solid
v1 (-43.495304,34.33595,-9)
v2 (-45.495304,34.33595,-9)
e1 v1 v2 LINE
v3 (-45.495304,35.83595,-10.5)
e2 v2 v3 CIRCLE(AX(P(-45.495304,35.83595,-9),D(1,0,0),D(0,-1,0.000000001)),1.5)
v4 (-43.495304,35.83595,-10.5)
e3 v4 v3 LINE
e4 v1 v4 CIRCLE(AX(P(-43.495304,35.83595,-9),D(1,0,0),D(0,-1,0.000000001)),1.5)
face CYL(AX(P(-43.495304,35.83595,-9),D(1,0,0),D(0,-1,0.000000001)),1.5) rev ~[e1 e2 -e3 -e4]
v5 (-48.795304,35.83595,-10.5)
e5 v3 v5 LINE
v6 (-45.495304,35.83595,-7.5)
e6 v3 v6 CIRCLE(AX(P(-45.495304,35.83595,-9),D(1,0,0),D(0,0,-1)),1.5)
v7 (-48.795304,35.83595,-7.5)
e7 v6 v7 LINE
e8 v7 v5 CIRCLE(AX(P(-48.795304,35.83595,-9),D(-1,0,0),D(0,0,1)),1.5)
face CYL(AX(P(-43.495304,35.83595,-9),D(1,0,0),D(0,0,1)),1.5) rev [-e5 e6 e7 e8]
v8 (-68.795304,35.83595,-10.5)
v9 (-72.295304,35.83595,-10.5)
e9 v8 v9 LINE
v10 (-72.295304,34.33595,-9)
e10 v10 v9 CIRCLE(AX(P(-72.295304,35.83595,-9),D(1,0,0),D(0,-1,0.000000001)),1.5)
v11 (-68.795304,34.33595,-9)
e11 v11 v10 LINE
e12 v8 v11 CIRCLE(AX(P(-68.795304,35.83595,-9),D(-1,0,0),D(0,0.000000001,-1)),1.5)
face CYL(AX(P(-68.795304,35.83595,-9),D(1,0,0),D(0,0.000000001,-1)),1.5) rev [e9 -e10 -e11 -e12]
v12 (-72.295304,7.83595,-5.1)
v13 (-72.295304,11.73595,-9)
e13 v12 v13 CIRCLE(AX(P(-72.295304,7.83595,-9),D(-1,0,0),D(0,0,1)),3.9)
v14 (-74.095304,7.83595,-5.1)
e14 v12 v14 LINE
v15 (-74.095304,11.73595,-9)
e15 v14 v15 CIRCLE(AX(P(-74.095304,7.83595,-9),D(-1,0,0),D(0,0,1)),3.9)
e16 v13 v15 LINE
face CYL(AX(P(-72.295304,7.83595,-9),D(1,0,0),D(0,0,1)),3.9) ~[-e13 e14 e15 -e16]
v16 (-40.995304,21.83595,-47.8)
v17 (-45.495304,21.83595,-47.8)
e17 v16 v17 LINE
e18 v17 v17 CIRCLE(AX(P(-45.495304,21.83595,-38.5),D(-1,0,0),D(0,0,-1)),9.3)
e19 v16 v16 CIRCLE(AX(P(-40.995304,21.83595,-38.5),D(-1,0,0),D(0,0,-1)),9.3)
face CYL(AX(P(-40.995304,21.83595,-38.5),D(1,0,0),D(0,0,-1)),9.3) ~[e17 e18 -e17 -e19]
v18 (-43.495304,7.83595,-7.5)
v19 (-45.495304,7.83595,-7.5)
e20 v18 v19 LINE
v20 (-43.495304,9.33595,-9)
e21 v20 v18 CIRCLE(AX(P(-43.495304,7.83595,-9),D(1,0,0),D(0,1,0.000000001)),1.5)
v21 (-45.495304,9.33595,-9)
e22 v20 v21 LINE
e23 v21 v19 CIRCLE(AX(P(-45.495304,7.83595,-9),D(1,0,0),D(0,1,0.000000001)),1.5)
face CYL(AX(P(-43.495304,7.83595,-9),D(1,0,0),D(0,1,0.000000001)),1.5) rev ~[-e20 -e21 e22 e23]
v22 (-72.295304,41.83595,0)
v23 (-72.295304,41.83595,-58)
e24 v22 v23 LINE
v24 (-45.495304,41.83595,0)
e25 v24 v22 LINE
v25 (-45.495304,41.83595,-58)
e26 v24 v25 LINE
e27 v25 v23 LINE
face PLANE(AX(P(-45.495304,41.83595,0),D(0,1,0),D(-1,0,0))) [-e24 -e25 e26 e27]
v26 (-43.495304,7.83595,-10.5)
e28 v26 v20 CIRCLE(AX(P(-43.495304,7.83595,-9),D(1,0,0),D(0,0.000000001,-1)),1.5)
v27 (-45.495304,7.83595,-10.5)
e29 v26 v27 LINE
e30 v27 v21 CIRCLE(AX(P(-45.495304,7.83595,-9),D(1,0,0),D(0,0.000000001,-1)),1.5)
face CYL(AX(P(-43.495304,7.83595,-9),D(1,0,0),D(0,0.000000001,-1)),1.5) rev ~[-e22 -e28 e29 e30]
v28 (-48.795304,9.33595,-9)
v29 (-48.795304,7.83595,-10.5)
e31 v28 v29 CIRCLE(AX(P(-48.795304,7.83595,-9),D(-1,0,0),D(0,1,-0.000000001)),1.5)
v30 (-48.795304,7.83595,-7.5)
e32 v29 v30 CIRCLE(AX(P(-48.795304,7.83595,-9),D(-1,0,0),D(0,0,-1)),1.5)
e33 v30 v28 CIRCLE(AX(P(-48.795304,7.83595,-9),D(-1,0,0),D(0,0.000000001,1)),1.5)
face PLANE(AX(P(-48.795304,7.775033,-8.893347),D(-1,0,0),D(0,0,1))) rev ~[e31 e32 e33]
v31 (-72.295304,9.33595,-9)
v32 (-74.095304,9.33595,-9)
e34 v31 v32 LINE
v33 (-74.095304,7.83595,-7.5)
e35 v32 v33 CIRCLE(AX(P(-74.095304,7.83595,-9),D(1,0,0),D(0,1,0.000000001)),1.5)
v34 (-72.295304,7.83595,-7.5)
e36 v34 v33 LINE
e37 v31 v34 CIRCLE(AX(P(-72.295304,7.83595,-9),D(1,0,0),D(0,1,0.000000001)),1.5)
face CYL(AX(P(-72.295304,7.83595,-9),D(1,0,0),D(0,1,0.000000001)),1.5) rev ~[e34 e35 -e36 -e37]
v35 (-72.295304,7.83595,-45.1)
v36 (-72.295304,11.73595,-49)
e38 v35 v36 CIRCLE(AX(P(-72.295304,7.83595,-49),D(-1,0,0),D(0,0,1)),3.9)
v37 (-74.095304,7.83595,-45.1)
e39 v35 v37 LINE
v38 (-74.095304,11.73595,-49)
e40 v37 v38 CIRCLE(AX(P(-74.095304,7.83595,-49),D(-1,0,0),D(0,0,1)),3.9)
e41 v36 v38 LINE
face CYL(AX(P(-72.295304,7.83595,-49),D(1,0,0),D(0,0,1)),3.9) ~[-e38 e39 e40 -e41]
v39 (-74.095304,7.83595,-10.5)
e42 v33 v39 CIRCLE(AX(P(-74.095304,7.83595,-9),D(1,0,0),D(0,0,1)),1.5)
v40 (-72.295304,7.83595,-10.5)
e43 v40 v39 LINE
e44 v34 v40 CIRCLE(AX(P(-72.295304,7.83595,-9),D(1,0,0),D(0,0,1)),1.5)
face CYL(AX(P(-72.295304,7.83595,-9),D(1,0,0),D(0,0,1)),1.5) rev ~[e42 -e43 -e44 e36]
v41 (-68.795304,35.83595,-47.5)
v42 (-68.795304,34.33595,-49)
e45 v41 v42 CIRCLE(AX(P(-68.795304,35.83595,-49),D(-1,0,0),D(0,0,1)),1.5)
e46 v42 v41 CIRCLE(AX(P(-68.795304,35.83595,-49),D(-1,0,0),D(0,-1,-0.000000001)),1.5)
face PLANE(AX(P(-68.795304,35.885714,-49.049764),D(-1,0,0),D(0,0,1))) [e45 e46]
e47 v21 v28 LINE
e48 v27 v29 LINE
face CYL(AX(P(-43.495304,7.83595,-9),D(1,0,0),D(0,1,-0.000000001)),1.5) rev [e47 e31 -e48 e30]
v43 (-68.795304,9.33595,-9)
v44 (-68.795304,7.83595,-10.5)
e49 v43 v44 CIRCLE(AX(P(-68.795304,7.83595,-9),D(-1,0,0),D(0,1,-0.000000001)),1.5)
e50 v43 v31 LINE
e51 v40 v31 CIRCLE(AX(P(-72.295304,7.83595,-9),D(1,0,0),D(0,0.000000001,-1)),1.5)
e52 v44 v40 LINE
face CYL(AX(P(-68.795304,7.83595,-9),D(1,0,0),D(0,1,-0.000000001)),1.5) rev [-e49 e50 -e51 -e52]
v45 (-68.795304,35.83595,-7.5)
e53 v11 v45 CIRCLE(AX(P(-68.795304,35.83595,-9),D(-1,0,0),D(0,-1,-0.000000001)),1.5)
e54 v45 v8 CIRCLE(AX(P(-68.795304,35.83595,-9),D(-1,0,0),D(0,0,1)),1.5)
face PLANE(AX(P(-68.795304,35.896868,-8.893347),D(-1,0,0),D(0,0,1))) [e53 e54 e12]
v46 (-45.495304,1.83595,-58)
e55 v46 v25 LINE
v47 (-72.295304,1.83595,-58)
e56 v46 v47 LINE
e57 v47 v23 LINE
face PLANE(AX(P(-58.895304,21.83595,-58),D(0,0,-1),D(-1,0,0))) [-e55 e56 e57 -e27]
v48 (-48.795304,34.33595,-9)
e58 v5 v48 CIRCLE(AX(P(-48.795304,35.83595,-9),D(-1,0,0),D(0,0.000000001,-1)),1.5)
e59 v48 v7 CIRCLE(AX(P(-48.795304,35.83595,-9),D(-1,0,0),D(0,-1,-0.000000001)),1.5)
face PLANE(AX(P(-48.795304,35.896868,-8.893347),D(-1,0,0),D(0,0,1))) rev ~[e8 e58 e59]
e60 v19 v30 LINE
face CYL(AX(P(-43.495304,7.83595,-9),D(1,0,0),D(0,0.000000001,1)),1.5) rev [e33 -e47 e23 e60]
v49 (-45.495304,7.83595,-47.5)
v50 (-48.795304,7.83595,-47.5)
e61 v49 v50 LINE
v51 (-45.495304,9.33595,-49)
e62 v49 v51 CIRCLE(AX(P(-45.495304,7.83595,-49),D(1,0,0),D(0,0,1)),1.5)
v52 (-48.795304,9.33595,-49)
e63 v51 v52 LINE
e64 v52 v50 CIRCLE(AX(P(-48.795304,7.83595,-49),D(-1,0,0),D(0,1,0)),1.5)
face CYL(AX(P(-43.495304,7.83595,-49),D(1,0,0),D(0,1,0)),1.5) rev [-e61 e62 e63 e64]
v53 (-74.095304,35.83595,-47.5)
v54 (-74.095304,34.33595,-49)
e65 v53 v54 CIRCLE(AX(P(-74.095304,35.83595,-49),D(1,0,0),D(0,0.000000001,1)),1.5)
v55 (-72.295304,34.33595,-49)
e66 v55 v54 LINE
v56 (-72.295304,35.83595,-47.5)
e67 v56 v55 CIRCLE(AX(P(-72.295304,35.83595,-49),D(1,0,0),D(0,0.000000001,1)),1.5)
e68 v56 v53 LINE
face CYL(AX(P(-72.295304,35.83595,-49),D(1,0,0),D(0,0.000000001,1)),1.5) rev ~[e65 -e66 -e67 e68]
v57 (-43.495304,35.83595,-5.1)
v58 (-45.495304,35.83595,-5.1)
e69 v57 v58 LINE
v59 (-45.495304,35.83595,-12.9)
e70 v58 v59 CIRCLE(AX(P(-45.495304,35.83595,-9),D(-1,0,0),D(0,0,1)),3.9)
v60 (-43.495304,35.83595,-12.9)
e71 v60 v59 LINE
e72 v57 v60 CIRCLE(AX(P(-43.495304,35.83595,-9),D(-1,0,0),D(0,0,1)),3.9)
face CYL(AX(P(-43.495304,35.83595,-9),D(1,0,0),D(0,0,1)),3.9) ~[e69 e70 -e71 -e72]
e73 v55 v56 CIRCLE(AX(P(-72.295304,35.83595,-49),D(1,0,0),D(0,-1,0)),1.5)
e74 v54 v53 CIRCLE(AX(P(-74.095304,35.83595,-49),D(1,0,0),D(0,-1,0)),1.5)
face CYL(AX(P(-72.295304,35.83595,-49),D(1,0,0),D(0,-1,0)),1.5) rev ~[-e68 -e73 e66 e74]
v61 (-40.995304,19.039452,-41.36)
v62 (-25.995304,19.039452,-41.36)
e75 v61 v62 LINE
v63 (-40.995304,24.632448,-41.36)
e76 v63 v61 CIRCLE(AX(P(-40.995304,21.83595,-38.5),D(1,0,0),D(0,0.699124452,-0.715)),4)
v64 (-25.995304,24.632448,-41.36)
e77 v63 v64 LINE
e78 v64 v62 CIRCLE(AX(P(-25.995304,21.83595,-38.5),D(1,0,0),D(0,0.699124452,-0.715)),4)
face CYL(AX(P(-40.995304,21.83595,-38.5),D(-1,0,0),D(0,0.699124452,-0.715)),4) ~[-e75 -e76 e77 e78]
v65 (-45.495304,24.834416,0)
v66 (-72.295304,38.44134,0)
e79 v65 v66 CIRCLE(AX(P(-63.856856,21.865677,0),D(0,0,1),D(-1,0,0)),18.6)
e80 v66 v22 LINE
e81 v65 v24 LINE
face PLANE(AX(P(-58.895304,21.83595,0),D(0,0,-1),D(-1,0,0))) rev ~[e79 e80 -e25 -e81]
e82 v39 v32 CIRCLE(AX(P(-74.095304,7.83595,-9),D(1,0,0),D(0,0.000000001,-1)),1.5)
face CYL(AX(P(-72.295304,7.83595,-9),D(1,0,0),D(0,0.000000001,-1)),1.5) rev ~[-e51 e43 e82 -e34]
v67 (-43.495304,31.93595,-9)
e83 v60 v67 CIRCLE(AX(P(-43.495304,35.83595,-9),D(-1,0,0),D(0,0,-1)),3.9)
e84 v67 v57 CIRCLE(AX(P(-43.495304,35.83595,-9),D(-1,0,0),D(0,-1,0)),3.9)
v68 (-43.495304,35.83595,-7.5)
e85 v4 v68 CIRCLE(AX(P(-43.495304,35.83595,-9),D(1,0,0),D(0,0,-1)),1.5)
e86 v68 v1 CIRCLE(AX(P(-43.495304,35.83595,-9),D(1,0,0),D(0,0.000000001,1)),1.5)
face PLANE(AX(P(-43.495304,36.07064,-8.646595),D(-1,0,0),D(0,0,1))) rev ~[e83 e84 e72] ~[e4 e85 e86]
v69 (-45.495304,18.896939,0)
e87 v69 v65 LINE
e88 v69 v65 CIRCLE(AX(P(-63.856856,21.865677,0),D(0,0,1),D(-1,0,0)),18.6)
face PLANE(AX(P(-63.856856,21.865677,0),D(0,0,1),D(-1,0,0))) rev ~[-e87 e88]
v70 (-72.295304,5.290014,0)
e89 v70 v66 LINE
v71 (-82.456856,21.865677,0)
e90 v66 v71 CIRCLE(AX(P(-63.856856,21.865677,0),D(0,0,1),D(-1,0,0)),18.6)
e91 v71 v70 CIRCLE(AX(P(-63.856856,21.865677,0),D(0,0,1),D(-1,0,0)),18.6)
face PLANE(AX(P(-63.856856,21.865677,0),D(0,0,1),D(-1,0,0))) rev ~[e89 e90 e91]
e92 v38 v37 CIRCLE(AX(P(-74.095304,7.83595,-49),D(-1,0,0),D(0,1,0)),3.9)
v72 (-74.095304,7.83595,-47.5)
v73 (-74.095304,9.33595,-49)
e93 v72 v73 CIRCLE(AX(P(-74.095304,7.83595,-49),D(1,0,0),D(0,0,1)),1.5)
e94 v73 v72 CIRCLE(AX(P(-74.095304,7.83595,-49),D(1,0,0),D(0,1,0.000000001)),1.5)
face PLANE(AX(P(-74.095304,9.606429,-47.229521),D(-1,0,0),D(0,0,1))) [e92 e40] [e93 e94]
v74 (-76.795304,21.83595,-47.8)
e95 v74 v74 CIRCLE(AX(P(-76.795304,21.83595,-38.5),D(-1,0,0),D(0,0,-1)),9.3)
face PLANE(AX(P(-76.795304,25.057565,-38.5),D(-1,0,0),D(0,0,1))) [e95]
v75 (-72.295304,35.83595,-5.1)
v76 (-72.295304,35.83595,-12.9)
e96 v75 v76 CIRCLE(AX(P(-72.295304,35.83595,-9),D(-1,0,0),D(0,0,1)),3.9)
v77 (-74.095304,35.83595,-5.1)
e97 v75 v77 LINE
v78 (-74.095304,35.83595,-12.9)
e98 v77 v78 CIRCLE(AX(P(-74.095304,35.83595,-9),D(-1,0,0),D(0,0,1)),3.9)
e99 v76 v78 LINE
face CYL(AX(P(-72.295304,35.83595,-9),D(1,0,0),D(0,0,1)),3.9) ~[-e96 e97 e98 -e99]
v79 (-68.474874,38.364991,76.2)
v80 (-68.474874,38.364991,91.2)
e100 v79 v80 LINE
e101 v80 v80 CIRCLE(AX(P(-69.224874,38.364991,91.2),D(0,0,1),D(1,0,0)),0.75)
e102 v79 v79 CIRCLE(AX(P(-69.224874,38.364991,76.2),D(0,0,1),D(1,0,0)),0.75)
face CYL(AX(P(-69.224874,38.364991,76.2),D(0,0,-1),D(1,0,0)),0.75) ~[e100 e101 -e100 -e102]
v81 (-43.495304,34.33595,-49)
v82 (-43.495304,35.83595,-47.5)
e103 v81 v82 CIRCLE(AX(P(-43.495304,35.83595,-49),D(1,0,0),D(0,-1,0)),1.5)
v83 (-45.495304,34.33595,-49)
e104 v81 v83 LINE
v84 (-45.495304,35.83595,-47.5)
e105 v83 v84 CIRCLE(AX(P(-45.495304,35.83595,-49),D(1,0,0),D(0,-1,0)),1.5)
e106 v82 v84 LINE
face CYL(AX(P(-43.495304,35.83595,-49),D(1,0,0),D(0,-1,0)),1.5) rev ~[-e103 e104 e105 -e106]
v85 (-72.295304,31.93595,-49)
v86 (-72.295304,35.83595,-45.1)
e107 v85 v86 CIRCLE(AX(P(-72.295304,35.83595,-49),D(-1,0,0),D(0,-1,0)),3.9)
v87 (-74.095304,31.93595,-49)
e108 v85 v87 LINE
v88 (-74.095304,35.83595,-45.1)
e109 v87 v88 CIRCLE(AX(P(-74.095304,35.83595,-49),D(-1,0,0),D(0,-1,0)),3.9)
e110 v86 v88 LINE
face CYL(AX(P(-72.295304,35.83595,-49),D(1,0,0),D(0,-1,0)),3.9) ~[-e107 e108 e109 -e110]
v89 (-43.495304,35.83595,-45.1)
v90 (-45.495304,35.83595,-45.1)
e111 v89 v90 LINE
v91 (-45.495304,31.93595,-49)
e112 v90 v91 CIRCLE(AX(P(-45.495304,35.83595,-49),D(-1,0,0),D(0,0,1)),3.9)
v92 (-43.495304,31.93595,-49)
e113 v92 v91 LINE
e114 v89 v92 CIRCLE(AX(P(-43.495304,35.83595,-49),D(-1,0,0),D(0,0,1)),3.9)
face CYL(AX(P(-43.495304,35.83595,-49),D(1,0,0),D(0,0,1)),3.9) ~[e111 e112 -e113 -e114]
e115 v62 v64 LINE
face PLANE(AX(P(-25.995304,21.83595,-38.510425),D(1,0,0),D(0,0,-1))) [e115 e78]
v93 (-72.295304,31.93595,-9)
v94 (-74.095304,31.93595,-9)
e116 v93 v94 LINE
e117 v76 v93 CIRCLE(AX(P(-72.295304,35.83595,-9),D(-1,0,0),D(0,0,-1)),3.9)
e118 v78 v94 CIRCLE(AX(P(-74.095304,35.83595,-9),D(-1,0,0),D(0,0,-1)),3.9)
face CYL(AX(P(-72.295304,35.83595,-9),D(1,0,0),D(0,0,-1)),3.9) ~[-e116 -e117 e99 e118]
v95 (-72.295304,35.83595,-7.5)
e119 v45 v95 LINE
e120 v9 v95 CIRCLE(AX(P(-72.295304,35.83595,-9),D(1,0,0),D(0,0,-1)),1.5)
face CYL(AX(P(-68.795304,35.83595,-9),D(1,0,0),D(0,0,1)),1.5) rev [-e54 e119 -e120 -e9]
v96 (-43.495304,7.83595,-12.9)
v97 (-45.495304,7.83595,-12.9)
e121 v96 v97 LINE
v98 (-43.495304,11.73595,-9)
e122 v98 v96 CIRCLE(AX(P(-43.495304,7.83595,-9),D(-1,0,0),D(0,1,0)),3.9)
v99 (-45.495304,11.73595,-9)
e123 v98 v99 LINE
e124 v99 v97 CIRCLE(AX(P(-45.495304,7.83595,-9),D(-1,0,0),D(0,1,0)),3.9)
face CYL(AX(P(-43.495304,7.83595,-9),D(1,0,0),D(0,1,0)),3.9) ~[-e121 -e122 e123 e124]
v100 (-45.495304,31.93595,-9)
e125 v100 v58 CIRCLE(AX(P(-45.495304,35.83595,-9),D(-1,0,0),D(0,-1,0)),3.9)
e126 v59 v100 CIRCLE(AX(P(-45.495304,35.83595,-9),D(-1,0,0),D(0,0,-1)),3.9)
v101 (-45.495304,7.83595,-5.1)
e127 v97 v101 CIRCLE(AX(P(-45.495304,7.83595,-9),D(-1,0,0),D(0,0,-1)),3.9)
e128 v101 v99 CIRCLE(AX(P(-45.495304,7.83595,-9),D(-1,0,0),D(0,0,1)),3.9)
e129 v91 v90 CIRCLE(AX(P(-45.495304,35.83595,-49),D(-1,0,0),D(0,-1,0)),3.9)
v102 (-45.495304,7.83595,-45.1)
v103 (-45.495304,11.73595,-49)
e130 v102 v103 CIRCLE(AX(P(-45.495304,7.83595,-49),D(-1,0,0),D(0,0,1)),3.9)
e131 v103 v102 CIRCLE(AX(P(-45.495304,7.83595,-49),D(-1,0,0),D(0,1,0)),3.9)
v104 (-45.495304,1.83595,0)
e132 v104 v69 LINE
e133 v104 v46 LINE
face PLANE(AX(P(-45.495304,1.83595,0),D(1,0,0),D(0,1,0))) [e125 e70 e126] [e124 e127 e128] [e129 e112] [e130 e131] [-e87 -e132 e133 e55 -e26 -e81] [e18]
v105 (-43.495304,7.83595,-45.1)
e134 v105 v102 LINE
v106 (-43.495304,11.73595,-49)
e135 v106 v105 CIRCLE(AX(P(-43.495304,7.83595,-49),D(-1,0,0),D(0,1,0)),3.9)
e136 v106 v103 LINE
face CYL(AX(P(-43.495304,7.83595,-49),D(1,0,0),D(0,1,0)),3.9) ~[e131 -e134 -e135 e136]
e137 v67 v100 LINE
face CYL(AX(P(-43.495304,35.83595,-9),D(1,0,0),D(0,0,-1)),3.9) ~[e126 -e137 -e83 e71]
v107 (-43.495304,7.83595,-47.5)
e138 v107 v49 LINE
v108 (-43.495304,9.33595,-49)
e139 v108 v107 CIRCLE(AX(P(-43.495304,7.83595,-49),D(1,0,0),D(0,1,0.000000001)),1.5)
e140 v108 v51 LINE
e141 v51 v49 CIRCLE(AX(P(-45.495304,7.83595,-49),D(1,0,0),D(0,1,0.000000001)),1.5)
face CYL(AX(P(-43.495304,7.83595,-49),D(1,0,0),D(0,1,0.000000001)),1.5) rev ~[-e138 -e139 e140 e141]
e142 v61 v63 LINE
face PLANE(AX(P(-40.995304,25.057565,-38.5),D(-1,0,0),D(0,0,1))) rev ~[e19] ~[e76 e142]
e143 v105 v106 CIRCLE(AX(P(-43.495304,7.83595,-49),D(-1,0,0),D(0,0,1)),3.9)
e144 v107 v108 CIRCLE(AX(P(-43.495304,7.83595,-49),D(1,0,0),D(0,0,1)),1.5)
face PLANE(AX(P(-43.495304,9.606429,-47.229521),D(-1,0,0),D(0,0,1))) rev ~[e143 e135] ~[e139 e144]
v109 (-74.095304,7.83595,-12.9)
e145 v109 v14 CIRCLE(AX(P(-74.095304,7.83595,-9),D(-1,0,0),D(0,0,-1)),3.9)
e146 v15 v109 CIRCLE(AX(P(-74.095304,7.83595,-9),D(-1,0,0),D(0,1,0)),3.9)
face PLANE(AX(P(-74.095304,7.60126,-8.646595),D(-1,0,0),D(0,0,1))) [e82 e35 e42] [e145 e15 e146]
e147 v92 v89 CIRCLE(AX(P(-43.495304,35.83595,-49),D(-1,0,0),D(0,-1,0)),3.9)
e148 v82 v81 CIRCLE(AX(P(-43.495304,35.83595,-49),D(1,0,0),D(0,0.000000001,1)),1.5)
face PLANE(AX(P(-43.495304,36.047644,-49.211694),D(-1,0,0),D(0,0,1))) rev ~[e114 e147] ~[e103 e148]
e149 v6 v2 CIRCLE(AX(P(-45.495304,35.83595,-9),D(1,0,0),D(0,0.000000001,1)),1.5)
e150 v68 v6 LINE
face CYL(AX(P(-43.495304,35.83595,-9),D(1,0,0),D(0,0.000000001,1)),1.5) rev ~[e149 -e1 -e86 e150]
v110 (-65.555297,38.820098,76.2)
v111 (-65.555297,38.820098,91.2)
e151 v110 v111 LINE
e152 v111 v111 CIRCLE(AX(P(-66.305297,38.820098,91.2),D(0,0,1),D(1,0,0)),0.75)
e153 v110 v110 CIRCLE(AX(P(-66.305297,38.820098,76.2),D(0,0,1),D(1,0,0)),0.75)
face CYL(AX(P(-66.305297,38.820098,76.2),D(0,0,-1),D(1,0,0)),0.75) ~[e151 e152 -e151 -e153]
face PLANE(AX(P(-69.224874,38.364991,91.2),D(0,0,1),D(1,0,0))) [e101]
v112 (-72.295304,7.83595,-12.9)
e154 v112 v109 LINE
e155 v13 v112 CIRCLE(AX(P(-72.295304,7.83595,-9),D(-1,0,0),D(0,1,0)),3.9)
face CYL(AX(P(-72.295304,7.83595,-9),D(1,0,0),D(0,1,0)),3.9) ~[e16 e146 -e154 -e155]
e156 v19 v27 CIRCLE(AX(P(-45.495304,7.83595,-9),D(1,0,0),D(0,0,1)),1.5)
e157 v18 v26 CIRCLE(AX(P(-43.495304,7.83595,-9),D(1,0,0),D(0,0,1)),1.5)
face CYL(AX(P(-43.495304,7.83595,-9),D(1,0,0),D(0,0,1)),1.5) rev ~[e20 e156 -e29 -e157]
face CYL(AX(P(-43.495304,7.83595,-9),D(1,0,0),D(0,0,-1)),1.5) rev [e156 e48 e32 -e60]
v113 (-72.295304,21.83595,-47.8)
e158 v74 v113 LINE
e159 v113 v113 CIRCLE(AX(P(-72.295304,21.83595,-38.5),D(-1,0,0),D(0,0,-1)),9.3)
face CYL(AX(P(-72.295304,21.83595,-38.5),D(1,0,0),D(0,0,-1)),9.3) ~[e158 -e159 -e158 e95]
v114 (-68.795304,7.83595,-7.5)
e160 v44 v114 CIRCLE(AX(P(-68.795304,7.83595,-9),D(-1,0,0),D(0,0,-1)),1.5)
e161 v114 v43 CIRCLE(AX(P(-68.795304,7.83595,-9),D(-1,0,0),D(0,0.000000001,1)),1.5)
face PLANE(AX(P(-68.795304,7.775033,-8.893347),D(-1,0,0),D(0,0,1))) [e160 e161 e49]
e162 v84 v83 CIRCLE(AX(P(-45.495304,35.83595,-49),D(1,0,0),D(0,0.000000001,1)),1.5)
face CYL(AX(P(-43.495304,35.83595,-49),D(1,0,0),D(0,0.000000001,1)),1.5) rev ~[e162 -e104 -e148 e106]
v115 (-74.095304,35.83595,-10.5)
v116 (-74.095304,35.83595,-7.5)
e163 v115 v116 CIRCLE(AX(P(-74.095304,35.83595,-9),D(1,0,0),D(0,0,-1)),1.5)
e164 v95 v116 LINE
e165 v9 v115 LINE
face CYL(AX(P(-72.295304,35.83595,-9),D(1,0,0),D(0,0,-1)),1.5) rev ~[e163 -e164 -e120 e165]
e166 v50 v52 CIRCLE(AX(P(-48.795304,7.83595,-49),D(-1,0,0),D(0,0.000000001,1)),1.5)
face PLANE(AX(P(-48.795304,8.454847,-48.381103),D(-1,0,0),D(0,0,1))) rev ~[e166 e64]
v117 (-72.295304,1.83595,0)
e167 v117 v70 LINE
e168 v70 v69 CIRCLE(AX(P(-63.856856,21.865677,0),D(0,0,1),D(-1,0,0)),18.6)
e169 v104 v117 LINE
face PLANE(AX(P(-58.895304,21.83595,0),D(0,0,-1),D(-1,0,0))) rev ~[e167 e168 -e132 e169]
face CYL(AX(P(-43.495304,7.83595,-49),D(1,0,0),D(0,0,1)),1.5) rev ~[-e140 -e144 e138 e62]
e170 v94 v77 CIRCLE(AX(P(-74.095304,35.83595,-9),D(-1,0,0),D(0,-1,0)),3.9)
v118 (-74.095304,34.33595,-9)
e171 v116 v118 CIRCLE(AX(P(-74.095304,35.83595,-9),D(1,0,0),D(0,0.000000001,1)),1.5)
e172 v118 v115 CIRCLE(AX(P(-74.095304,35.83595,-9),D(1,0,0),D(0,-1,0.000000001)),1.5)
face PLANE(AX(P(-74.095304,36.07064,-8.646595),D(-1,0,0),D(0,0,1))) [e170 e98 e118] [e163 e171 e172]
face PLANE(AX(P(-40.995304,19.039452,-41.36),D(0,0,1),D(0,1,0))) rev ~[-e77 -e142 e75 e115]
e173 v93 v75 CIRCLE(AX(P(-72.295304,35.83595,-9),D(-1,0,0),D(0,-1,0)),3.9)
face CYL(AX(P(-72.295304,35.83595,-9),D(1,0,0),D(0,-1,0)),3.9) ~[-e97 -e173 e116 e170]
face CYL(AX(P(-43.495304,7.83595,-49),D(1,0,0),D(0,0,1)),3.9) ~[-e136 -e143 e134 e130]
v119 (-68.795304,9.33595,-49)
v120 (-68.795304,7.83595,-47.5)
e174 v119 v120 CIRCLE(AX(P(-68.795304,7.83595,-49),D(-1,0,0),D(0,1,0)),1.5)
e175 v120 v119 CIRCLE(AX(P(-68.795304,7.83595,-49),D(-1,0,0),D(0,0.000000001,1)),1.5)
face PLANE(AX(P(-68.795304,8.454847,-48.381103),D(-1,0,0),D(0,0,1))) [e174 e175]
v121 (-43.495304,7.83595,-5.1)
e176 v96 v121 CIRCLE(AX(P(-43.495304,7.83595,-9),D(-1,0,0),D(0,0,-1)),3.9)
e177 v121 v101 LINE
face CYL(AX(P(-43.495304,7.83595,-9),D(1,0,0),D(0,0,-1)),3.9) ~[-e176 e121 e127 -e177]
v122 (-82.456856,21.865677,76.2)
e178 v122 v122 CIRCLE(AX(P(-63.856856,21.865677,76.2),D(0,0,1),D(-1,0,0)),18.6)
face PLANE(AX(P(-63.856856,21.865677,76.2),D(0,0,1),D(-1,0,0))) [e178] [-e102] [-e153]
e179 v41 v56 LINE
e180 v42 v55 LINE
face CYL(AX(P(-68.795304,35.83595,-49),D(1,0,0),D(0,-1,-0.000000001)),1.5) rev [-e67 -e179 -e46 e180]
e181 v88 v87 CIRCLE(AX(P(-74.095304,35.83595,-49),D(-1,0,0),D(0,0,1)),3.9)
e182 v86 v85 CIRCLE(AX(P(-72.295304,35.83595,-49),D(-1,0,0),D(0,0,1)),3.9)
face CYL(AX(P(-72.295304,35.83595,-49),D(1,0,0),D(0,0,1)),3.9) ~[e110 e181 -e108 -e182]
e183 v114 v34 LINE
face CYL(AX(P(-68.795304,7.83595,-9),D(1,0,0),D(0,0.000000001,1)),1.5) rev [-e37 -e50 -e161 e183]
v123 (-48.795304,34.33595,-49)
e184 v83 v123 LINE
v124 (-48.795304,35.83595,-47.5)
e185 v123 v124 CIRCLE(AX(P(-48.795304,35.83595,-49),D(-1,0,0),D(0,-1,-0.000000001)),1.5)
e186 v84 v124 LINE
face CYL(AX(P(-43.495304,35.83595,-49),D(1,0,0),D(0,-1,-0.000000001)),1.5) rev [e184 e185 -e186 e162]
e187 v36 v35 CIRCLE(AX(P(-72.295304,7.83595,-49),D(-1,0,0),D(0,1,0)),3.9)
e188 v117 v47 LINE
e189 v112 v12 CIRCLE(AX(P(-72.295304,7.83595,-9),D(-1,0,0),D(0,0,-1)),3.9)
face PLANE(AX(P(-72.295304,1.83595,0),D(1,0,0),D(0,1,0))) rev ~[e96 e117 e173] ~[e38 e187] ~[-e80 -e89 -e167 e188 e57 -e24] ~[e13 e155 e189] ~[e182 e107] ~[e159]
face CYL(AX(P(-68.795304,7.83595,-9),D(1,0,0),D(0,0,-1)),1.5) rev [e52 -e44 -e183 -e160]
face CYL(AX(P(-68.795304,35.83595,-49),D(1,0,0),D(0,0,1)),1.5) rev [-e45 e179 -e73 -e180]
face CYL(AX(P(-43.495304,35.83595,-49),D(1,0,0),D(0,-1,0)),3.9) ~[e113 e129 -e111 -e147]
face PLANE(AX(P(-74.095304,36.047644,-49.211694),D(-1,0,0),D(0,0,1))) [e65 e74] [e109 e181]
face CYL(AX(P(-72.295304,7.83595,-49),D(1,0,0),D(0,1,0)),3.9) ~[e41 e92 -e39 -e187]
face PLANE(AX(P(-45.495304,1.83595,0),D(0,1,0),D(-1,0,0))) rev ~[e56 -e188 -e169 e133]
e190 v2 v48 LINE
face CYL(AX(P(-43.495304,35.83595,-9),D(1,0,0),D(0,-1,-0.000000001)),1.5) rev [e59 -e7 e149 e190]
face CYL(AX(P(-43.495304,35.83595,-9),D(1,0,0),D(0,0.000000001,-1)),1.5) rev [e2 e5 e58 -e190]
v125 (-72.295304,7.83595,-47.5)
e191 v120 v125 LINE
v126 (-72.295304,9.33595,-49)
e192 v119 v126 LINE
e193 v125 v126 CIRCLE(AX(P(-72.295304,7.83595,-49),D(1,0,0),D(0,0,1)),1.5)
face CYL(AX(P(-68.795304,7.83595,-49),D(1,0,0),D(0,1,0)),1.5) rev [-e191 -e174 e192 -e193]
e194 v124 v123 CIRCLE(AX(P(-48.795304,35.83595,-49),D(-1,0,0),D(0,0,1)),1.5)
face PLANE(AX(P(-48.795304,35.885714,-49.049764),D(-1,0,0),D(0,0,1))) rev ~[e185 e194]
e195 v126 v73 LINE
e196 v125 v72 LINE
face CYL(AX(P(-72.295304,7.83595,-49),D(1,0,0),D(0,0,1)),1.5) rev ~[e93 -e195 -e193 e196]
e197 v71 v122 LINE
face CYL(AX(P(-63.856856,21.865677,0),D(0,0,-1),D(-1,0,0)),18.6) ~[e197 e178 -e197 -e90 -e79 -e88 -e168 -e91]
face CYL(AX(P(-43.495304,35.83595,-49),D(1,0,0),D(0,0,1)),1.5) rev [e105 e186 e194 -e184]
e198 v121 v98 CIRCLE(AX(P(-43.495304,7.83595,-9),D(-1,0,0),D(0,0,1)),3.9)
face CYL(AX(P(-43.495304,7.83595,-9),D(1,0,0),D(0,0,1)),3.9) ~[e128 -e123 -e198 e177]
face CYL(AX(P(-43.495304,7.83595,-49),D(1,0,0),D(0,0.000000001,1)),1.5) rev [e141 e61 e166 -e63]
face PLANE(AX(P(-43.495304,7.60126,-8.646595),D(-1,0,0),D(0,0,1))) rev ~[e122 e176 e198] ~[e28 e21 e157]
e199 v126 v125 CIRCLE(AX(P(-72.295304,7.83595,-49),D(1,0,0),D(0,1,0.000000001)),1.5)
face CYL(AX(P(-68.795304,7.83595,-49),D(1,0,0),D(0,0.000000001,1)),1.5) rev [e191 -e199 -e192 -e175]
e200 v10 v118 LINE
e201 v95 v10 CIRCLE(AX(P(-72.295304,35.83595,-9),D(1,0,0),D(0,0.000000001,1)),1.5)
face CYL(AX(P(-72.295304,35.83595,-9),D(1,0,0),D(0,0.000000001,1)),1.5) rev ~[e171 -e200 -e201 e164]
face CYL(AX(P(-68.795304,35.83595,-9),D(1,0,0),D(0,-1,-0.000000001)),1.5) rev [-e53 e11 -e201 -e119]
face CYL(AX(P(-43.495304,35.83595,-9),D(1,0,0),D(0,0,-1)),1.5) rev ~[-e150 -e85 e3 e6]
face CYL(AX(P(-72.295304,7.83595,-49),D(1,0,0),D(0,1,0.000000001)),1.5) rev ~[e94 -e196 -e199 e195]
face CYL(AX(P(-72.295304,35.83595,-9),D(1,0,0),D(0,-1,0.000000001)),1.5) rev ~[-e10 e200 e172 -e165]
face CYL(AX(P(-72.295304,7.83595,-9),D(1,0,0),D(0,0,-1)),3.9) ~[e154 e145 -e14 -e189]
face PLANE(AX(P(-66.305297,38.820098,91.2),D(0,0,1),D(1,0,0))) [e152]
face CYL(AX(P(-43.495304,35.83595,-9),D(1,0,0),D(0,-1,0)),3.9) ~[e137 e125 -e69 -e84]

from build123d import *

# Parameters (mm, degrees)
SKETCH4_R            = 18.6
BOSS_EXTRUDE3_DEPTH  = 76.2
SKETCH5_R            = 0.75
BOSS_EXTRUDE4_DEPTH  = 15
SKETCH6_R            = 0.75
BOSS_EXTRUDE5_DEPTH  = 15
SKETCH7_W            = 26.8
SKETCH7_H            = 40
BOSS_EXTRUDE6_DEPTH  = 58
BOSS_EXTRUDE10_DEPTH = 1.8
BOSS_EXTRUDE11_DEPTH = 4.5
CUT_EXTRUDE1_START   = -3.5
CUT_EXTRUDE1_DEPTH   = 5.3
BOSS_EXTRUDE12_START = -28.8
BOSS_EXTRUDE12_DEPTH = 2
CUT_EXTRUDE2_START   = -28.8
CUT_EXTRUDE2_DEPTH   = 5.3
BOSS_EXTRUDE13_START = -31.3
BOSS_EXTRUDE13_DEPTH = 4.5
BOSS_EXTRUDE14_DEPTH = 15


with BuildPart() as part:
    # Sketch4 → Boss-Extrude3 (new body)
    with BuildSketch(Plane.XY):
        with Locations(Location((-63.856856352, 21.865677116, 0), (0, 0, 180))):
            Circle(SKETCH4_R)
    extrude(amount=BOSS_EXTRUDE3_DEPTH)

    # Sketch5 → Boss-Extrude4 (add)
    with BuildSketch(Plane.XY.offset(76.2)):
        with Locations((-66.305296551, 38.820097555)):
            Circle(SKETCH5_R)
    extrude(amount=BOSS_EXTRUDE4_DEPTH)

    # Sketch6 → Boss-Extrude5 (add)
    with BuildSketch(Plane.XY.offset(76.2)):
        with Locations((-69.224873833, 38.364991381)):
            Circle(SKETCH6_R)
    extrude(amount=BOSS_EXTRUDE5_DEPTH)

    # Sketch7 → Boss-Extrude6 (add)
    with BuildSketch(Plane(origin=(0, 0, 0), x_dir=(-1, 0, 0), z_dir=(0, 0, -1))):
        with Locations((58.895304338, 21.83595021)):
            Rectangle(SKETCH7_W, SKETCH7_H)
    extrude(amount=BOSS_EXTRUDE6_DEPTH)

    # Sketch22 → Boss-Extrude10 (add)
    with BuildSketch(Plane.ZY.offset(72.295304338)):
        with BuildLine():
            ThreePointArc((-29.2, 21.83595021), (-38.5, 31.13595021), (-47.8, 21.83595021))
            Line((-47.8, 21.83595021), (-29.2, 21.83595021))
        make_face()
        with BuildLine():
            Line((-29.2, 21.83595021), (-47.8, 21.83595021))
            ThreePointArc((-47.8, 21.83595021), (-38.5, 12.53595021), (-29.2, 21.83595021))
        make_face()
        with BuildLine():
            ThreePointArc((-45.1, 7.83595021), (-46.242283553, 10.593666656), (-49, 11.73595021))
            Line((-49, 11.73595021), (-49, 9.33595021))
            ThreePointArc((-49, 9.33595021), (-47.939339828, 8.896610381), (-47.5, 7.83595021))
            Line((-47.5, 7.83595021), (-45.1, 7.83595021))
        make_face()
        with BuildLine():
            Line((-49, 9.33595021), (-49, 11.73595021))
            ThreePointArc((-49, 11.73595021), (-51.757716447, 5.078233763), (-45.1, 7.83595021))
            Line((-45.1, 7.83595021), (-47.5, 7.83595021))
            ThreePointArc((-47.5, 7.83595021), (-50.060660172, 6.775290038), (-49, 9.33595021))
        make_face()
        with BuildLine():
            ThreePointArc((-49, 34.33595021), (-50.060660172, 36.896610381), (-47.5, 35.83595021))
            Line((-47.5, 35.83595021), (-45.1, 35.83595021))
            ThreePointArc((-45.1, 35.83595021), (-51.757716447, 38.593666656), (-49, 31.93595021))
            Line((-49, 31.93595021), (-49, 34.33595021))
        make_face()
        with BuildLine():
            Line((-45.1, 35.83595021), (-47.5, 35.83595021))
            ThreePointArc((-47.5, 35.83595021), (-47.939339828, 34.775290038), (-49, 34.33595021))
            Line((-49, 34.33595021), (-49, 31.93595021))
            ThreePointArc((-49, 31.93595021), (-46.242283553, 33.078233763), (-45.1, 35.83595021))
        make_face()
        with BuildLine():
            ThreePointArc((-5.1, 35.83595021), (-9, 39.73595021), (-12.9, 35.83595021))
            Line((-12.9, 35.83595021), (-10.5, 35.83595021))
            ThreePointArc((-10.5, 35.83595021), (-9, 37.33595021), (-7.5, 35.83595021))
            ThreePointArc((-7.5, 35.83595021), (-7.939339828, 34.775290038), (-9, 34.33595021))
            Line((-9, 34.33595021), (-9, 31.93595021))
            ThreePointArc((-9, 31.93595021), (-6.242283553, 33.078233763), (-5.1, 35.83595021))
        make_face()
        with BuildLine():
            Line((-10.5, 35.83595021), (-12.9, 35.83595021))
            ThreePointArc((-12.9, 35.83595021), (-11.757716447, 33.078233763), (-9, 31.93595021))
            Line((-9, 31.93595021), (-9, 34.33595021))
            ThreePointArc((-9, 34.33595021), (-10.060660172, 34.775290038), (-10.5, 35.83595021))
        make_face()
        with BuildLine():
            ThreePointArc((-5.1, 7.83595021), (-6.242283553, 10.593666656), (-9, 11.73595021))
            Line((-9, 11.73595021), (-9, 9.33595021))
            ThreePointArc((-9, 9.33595021), (-7.939339828, 8.896610381), (-7.5, 7.83595021))
            ThreePointArc((-7.5, 7.83595021), (-9, 6.33595021), (-10.5, 7.83595021))
            Line((-10.5, 7.83595021), (-12.9, 7.83595021))
            ThreePointArc((-12.9, 7.83595021), (-9, 3.93595021), (-5.1, 7.83595021))
        make_face()
        with BuildLine():
            Line((-9, 9.33595021), (-9, 11.73595021))
            ThreePointArc((-9, 11.73595021), (-11.757716447, 10.593666656), (-12.9, 7.83595021))
            Line((-12.9, 7.83595021), (-10.5, 7.83595021))
            ThreePointArc((-10.5, 7.83595021), (-10.060660172, 8.896610381), (-9, 9.33595021))
        make_face()
    extrude(amount=BOSS_EXTRUDE10_DEPTH)

    # Sketch22<4> → Boss-Extrude11 (add)
    with BuildSketch(Plane.ZY.offset(72.295304338)):
        with BuildLine():
            ThreePointArc((-29.2, 21.83595021), (-38.5, 31.13595021), (-47.8, 21.83595021))
            Line((-47.8, 21.83595021), (-29.2, 21.83595021))
        make_face()
        with BuildLine():
            Line((-29.2, 21.83595021), (-47.8, 21.83595021))
            ThreePointArc((-47.8, 21.83595021), (-38.5, 12.53595021), (-29.2, 21.83595021))
        make_face()
    extrude(amount=BOSS_EXTRUDE11_DEPTH)

    # Sketch22<5> → Cut-Extrude1 (cut)
    with BuildSketch(Plane.ZY.offset(72.295304338).offset(CUT_EXTRUDE1_START)):
        with BuildLine():
            ThreePointArc((-47.5, 7.83595021), (-47.939339828, 8.896610381), (-49, 9.33595021))
            Line((-49, 9.33595021), (-49, 7.83595021))
            Line((-49, 7.83595021), (-47.5, 7.83595021))
        make_face()
        with BuildLine():
            Line((-49, 7.83595021), (-49, 9.33595021))
            ThreePointArc((-49, 9.33595021), (-50.060660172, 6.775290038), (-47.5, 7.83595021))
            Line((-47.5, 7.83595021), (-49, 7.83595021))
        make_face()
        with BuildLine():
            Line((-49, 34.33595021), (-49, 35.83595021))
            Line((-49, 35.83595021), (-47.5, 35.83595021))
            ThreePointArc((-47.5, 35.83595021), (-50.060660172, 36.896610381), (-49, 34.33595021))
        make_face()
        with BuildLine():
            Line((-47.5, 35.83595021), (-49, 35.83595021))
            Line((-49, 35.83595021), (-49, 34.33595021))
            ThreePointArc((-49, 34.33595021), (-47.939339828, 34.775290038), (-47.5, 35.83595021))
        make_face()
        with BuildLine():
            ThreePointArc((-7.5, 35.83595021), (-9, 37.33595021), (-10.5, 35.83595021))
            Line((-10.5, 35.83595021), (-9, 35.83595021))
            Line((-9, 35.83595021), (-9, 34.33595021))
            ThreePointArc((-9, 34.33595021), (-7.939339828, 34.775290038), (-7.5, 35.83595021))
        make_face()
        with BuildLine():
            Line((-9, 35.83595021), (-10.5, 35.83595021))
            ThreePointArc((-10.5, 35.83595021), (-10.060660172, 34.775290038), (-9, 34.33595021))
            Line((-9, 34.33595021), (-9, 35.83595021))
        make_face()
        with BuildLine():
            ThreePointArc((-7.5, 7.83595021), (-7.939339828, 8.896610381), (-9, 9.33595021))
            Line((-9, 9.33595021), (-9, 7.83595021))
            Line((-9, 7.83595021), (-10.5, 7.83595021))
            ThreePointArc((-10.5, 7.83595021), (-9, 6.33595021), (-7.5, 7.83595021))
        make_face()
        with BuildLine():
            Line((-9, 7.83595021), (-9, 9.33595021))
            ThreePointArc((-9, 9.33595021), (-10.060660172, 8.896610381), (-10.5, 7.83595021))
            Line((-10.5, 7.83595021), (-9, 7.83595021))
        make_face()
    extrude(amount=CUT_EXTRUDE1_DEPTH, mode=Mode.SUBTRACT)

    # Sketch22<6> → Boss-Extrude12 (add)
    with BuildSketch(Plane.ZY.offset(72.295304338).offset(BOSS_EXTRUDE12_START)):
        with BuildLine():
            ThreePointArc((-5.1, 35.83595021), (-9, 39.73595021), (-12.9, 35.83595021))
            Line((-12.9, 35.83595021), (-10.5, 35.83595021))
            ThreePointArc((-10.5, 35.83595021), (-9, 37.33595021), (-7.5, 35.83595021))
            ThreePointArc((-7.5, 35.83595021), (-7.939339828, 34.775290038), (-9, 34.33595021))
            Line((-9, 34.33595021), (-9, 31.93595021))
            ThreePointArc((-9, 31.93595021), (-6.242283553, 33.078233763), (-5.1, 35.83595021))
        make_face()
        with BuildLine():
            Line((-10.5, 35.83595021), (-12.9, 35.83595021))
            ThreePointArc((-12.9, 35.83595021), (-11.757716447, 33.078233763), (-9, 31.93595021))
            Line((-9, 31.93595021), (-9, 34.33595021))
            ThreePointArc((-9, 34.33595021), (-10.060660172, 34.775290038), (-10.5, 35.83595021))
        make_face()
        with BuildLine():
            ThreePointArc((-5.1, 7.83595021), (-6.242283553, 10.593666656), (-9, 11.73595021))
            Line((-9, 11.73595021), (-9, 9.33595021))
            ThreePointArc((-9, 9.33595021), (-7.939339828, 8.896610381), (-7.5, 7.83595021))
            ThreePointArc((-7.5, 7.83595021), (-9, 6.33595021), (-10.5, 7.83595021))
            Line((-10.5, 7.83595021), (-12.9, 7.83595021))
            ThreePointArc((-12.9, 7.83595021), (-9, 3.93595021), (-5.1, 7.83595021))
        make_face()
        with BuildLine():
            Line((-9, 9.33595021), (-9, 11.73595021))
            ThreePointArc((-9, 11.73595021), (-11.757716447, 10.593666656), (-12.9, 7.83595021))
            Line((-12.9, 7.83595021), (-10.5, 7.83595021))
            ThreePointArc((-10.5, 7.83595021), (-10.060660172, 8.896610381), (-9, 9.33595021))
        make_face()
        with BuildLine():
            ThreePointArc((-49, 34.33595021), (-50.060660172, 36.896610381), (-47.5, 35.83595021))
            Line((-47.5, 35.83595021), (-45.1, 35.83595021))
            ThreePointArc((-45.1, 35.83595021), (-51.757716447, 38.593666656), (-49, 31.93595021))
            Line((-49, 31.93595021), (-49, 34.33595021))
        make_face()
        with BuildLine():
            Line((-45.1, 35.83595021), (-47.5, 35.83595021))
            ThreePointArc((-47.5, 35.83595021), (-47.939339828, 34.775290038), (-49, 34.33595021))
            Line((-49, 34.33595021), (-49, 31.93595021))
            ThreePointArc((-49, 31.93595021), (-46.242283553, 33.078233763), (-45.1, 35.83595021))
        make_face()
        with BuildLine():
            ThreePointArc((-45.1, 7.83595021), (-46.242283553, 10.593666656), (-49, 11.73595021))
            Line((-49, 11.73595021), (-49, 9.33595021))
            ThreePointArc((-49, 9.33595021), (-47.939339828, 8.896610381), (-47.5, 7.83595021))
            Line((-47.5, 7.83595021), (-45.1, 7.83595021))
        make_face()
        with BuildLine():
            Line((-49, 9.33595021), (-49, 11.73595021))
            ThreePointArc((-49, 11.73595021), (-51.757716447, 5.078233763), (-45.1, 7.83595021))
            Line((-45.1, 7.83595021), (-47.5, 7.83595021))
            ThreePointArc((-47.5, 7.83595021), (-50.060660172, 6.775290038), (-49, 9.33595021))
        make_face()
    extrude(amount=BOSS_EXTRUDE12_DEPTH)

    # Sketch22<7> → Cut-Extrude2 (cut)
    with BuildSketch(Plane.ZY.offset(72.295304338).offset(CUT_EXTRUDE2_START)):
        with BuildLine():
            ThreePointArc((-7.5, 7.83595021), (-7.939339828, 8.896610381), (-9, 9.33595021))
            Line((-9, 9.33595021), (-9, 7.83595021))
            Line((-9, 7.83595021), (-10.5, 7.83595021))
            ThreePointArc((-10.5, 7.83595021), (-9, 6.33595021), (-7.5, 7.83595021))
        make_face()
        with BuildLine():
            Line((-9, 7.83595021), (-9, 9.33595021))
            ThreePointArc((-9, 9.33595021), (-10.060660172, 8.896610381), (-10.5, 7.83595021))
            Line((-10.5, 7.83595021), (-9, 7.83595021))
        make_face()
        with BuildLine():
            ThreePointArc((-7.5, 35.83595021), (-9, 37.33595021), (-10.5, 35.83595021))
            Line((-10.5, 35.83595021), (-9, 35.83595021))
            Line((-9, 35.83595021), (-9, 34.33595021))
            ThreePointArc((-9, 34.33595021), (-7.939339828, 34.775290038), (-7.5, 35.83595021))
        make_face()
        with BuildLine():
            Line((-9, 35.83595021), (-10.5, 35.83595021))
            ThreePointArc((-10.5, 35.83595021), (-10.060660172, 34.775290038), (-9, 34.33595021))
            Line((-9, 34.33595021), (-9, 35.83595021))
        make_face()
        with BuildLine():
            Line((-49, 34.33595021), (-49, 35.83595021))
            Line((-49, 35.83595021), (-47.5, 35.83595021))
            ThreePointArc((-47.5, 35.83595021), (-50.060660172, 36.896610381), (-49, 34.33595021))
        make_face()
        with BuildLine():
            Line((-47.5, 35.83595021), (-49, 35.83595021))
            Line((-49, 35.83595021), (-49, 34.33595021))
            ThreePointArc((-49, 34.33595021), (-47.939339828, 34.775290038), (-47.5, 35.83595021))
        make_face()
        with BuildLine():
            ThreePointArc((-47.5, 7.83595021), (-47.939339828, 8.896610381), (-49, 9.33595021))
            Line((-49, 9.33595021), (-49, 7.83595021))
            Line((-49, 7.83595021), (-47.5, 7.83595021))
        make_face()
        with BuildLine():
            Line((-49, 7.83595021), (-49, 9.33595021))
            ThreePointArc((-49, 9.33595021), (-50.060660172, 6.775290038), (-47.5, 7.83595021))
            Line((-47.5, 7.83595021), (-49, 7.83595021))
        make_face()
    extrude(amount=CUT_EXTRUDE2_DEPTH, mode=Mode.SUBTRACT)

    # Sketch22<8> → Boss-Extrude13 (add)
    with BuildSketch(Plane.ZY.offset(72.295304338).offset(BOSS_EXTRUDE13_START)):
        with BuildLine():
            ThreePointArc((-29.2, 21.83595021), (-38.5, 31.13595021), (-47.8, 21.83595021))
            Line((-47.8, 21.83595021), (-29.2, 21.83595021))
        make_face()
        with BuildLine():
            Line((-29.2, 21.83595021), (-47.8, 21.83595021))
            ThreePointArc((-47.8, 21.83595021), (-38.5, 12.53595021), (-29.2, 21.83595021))
        make_face()
    extrude(amount=BOSS_EXTRUDE13_DEPTH)

    # Sketch21 → Boss-Extrude14 (add)
    with BuildSketch(Plane(origin=(-40.995304338, 0, 0), x_dir=(0, 0, -1), z_dir=(1, 0, 0))):
        with BuildLine():
            Line((41.36, 19.0394524), (41.36, 24.632448019))
            ThreePointArc((41.36, 24.632448019), (34.5, 21.83595021), (41.36, 19.0394524))
        make_face()
    extrude(amount=BOSS_EXTRUDE14_DEPTH)


solid = part.part
